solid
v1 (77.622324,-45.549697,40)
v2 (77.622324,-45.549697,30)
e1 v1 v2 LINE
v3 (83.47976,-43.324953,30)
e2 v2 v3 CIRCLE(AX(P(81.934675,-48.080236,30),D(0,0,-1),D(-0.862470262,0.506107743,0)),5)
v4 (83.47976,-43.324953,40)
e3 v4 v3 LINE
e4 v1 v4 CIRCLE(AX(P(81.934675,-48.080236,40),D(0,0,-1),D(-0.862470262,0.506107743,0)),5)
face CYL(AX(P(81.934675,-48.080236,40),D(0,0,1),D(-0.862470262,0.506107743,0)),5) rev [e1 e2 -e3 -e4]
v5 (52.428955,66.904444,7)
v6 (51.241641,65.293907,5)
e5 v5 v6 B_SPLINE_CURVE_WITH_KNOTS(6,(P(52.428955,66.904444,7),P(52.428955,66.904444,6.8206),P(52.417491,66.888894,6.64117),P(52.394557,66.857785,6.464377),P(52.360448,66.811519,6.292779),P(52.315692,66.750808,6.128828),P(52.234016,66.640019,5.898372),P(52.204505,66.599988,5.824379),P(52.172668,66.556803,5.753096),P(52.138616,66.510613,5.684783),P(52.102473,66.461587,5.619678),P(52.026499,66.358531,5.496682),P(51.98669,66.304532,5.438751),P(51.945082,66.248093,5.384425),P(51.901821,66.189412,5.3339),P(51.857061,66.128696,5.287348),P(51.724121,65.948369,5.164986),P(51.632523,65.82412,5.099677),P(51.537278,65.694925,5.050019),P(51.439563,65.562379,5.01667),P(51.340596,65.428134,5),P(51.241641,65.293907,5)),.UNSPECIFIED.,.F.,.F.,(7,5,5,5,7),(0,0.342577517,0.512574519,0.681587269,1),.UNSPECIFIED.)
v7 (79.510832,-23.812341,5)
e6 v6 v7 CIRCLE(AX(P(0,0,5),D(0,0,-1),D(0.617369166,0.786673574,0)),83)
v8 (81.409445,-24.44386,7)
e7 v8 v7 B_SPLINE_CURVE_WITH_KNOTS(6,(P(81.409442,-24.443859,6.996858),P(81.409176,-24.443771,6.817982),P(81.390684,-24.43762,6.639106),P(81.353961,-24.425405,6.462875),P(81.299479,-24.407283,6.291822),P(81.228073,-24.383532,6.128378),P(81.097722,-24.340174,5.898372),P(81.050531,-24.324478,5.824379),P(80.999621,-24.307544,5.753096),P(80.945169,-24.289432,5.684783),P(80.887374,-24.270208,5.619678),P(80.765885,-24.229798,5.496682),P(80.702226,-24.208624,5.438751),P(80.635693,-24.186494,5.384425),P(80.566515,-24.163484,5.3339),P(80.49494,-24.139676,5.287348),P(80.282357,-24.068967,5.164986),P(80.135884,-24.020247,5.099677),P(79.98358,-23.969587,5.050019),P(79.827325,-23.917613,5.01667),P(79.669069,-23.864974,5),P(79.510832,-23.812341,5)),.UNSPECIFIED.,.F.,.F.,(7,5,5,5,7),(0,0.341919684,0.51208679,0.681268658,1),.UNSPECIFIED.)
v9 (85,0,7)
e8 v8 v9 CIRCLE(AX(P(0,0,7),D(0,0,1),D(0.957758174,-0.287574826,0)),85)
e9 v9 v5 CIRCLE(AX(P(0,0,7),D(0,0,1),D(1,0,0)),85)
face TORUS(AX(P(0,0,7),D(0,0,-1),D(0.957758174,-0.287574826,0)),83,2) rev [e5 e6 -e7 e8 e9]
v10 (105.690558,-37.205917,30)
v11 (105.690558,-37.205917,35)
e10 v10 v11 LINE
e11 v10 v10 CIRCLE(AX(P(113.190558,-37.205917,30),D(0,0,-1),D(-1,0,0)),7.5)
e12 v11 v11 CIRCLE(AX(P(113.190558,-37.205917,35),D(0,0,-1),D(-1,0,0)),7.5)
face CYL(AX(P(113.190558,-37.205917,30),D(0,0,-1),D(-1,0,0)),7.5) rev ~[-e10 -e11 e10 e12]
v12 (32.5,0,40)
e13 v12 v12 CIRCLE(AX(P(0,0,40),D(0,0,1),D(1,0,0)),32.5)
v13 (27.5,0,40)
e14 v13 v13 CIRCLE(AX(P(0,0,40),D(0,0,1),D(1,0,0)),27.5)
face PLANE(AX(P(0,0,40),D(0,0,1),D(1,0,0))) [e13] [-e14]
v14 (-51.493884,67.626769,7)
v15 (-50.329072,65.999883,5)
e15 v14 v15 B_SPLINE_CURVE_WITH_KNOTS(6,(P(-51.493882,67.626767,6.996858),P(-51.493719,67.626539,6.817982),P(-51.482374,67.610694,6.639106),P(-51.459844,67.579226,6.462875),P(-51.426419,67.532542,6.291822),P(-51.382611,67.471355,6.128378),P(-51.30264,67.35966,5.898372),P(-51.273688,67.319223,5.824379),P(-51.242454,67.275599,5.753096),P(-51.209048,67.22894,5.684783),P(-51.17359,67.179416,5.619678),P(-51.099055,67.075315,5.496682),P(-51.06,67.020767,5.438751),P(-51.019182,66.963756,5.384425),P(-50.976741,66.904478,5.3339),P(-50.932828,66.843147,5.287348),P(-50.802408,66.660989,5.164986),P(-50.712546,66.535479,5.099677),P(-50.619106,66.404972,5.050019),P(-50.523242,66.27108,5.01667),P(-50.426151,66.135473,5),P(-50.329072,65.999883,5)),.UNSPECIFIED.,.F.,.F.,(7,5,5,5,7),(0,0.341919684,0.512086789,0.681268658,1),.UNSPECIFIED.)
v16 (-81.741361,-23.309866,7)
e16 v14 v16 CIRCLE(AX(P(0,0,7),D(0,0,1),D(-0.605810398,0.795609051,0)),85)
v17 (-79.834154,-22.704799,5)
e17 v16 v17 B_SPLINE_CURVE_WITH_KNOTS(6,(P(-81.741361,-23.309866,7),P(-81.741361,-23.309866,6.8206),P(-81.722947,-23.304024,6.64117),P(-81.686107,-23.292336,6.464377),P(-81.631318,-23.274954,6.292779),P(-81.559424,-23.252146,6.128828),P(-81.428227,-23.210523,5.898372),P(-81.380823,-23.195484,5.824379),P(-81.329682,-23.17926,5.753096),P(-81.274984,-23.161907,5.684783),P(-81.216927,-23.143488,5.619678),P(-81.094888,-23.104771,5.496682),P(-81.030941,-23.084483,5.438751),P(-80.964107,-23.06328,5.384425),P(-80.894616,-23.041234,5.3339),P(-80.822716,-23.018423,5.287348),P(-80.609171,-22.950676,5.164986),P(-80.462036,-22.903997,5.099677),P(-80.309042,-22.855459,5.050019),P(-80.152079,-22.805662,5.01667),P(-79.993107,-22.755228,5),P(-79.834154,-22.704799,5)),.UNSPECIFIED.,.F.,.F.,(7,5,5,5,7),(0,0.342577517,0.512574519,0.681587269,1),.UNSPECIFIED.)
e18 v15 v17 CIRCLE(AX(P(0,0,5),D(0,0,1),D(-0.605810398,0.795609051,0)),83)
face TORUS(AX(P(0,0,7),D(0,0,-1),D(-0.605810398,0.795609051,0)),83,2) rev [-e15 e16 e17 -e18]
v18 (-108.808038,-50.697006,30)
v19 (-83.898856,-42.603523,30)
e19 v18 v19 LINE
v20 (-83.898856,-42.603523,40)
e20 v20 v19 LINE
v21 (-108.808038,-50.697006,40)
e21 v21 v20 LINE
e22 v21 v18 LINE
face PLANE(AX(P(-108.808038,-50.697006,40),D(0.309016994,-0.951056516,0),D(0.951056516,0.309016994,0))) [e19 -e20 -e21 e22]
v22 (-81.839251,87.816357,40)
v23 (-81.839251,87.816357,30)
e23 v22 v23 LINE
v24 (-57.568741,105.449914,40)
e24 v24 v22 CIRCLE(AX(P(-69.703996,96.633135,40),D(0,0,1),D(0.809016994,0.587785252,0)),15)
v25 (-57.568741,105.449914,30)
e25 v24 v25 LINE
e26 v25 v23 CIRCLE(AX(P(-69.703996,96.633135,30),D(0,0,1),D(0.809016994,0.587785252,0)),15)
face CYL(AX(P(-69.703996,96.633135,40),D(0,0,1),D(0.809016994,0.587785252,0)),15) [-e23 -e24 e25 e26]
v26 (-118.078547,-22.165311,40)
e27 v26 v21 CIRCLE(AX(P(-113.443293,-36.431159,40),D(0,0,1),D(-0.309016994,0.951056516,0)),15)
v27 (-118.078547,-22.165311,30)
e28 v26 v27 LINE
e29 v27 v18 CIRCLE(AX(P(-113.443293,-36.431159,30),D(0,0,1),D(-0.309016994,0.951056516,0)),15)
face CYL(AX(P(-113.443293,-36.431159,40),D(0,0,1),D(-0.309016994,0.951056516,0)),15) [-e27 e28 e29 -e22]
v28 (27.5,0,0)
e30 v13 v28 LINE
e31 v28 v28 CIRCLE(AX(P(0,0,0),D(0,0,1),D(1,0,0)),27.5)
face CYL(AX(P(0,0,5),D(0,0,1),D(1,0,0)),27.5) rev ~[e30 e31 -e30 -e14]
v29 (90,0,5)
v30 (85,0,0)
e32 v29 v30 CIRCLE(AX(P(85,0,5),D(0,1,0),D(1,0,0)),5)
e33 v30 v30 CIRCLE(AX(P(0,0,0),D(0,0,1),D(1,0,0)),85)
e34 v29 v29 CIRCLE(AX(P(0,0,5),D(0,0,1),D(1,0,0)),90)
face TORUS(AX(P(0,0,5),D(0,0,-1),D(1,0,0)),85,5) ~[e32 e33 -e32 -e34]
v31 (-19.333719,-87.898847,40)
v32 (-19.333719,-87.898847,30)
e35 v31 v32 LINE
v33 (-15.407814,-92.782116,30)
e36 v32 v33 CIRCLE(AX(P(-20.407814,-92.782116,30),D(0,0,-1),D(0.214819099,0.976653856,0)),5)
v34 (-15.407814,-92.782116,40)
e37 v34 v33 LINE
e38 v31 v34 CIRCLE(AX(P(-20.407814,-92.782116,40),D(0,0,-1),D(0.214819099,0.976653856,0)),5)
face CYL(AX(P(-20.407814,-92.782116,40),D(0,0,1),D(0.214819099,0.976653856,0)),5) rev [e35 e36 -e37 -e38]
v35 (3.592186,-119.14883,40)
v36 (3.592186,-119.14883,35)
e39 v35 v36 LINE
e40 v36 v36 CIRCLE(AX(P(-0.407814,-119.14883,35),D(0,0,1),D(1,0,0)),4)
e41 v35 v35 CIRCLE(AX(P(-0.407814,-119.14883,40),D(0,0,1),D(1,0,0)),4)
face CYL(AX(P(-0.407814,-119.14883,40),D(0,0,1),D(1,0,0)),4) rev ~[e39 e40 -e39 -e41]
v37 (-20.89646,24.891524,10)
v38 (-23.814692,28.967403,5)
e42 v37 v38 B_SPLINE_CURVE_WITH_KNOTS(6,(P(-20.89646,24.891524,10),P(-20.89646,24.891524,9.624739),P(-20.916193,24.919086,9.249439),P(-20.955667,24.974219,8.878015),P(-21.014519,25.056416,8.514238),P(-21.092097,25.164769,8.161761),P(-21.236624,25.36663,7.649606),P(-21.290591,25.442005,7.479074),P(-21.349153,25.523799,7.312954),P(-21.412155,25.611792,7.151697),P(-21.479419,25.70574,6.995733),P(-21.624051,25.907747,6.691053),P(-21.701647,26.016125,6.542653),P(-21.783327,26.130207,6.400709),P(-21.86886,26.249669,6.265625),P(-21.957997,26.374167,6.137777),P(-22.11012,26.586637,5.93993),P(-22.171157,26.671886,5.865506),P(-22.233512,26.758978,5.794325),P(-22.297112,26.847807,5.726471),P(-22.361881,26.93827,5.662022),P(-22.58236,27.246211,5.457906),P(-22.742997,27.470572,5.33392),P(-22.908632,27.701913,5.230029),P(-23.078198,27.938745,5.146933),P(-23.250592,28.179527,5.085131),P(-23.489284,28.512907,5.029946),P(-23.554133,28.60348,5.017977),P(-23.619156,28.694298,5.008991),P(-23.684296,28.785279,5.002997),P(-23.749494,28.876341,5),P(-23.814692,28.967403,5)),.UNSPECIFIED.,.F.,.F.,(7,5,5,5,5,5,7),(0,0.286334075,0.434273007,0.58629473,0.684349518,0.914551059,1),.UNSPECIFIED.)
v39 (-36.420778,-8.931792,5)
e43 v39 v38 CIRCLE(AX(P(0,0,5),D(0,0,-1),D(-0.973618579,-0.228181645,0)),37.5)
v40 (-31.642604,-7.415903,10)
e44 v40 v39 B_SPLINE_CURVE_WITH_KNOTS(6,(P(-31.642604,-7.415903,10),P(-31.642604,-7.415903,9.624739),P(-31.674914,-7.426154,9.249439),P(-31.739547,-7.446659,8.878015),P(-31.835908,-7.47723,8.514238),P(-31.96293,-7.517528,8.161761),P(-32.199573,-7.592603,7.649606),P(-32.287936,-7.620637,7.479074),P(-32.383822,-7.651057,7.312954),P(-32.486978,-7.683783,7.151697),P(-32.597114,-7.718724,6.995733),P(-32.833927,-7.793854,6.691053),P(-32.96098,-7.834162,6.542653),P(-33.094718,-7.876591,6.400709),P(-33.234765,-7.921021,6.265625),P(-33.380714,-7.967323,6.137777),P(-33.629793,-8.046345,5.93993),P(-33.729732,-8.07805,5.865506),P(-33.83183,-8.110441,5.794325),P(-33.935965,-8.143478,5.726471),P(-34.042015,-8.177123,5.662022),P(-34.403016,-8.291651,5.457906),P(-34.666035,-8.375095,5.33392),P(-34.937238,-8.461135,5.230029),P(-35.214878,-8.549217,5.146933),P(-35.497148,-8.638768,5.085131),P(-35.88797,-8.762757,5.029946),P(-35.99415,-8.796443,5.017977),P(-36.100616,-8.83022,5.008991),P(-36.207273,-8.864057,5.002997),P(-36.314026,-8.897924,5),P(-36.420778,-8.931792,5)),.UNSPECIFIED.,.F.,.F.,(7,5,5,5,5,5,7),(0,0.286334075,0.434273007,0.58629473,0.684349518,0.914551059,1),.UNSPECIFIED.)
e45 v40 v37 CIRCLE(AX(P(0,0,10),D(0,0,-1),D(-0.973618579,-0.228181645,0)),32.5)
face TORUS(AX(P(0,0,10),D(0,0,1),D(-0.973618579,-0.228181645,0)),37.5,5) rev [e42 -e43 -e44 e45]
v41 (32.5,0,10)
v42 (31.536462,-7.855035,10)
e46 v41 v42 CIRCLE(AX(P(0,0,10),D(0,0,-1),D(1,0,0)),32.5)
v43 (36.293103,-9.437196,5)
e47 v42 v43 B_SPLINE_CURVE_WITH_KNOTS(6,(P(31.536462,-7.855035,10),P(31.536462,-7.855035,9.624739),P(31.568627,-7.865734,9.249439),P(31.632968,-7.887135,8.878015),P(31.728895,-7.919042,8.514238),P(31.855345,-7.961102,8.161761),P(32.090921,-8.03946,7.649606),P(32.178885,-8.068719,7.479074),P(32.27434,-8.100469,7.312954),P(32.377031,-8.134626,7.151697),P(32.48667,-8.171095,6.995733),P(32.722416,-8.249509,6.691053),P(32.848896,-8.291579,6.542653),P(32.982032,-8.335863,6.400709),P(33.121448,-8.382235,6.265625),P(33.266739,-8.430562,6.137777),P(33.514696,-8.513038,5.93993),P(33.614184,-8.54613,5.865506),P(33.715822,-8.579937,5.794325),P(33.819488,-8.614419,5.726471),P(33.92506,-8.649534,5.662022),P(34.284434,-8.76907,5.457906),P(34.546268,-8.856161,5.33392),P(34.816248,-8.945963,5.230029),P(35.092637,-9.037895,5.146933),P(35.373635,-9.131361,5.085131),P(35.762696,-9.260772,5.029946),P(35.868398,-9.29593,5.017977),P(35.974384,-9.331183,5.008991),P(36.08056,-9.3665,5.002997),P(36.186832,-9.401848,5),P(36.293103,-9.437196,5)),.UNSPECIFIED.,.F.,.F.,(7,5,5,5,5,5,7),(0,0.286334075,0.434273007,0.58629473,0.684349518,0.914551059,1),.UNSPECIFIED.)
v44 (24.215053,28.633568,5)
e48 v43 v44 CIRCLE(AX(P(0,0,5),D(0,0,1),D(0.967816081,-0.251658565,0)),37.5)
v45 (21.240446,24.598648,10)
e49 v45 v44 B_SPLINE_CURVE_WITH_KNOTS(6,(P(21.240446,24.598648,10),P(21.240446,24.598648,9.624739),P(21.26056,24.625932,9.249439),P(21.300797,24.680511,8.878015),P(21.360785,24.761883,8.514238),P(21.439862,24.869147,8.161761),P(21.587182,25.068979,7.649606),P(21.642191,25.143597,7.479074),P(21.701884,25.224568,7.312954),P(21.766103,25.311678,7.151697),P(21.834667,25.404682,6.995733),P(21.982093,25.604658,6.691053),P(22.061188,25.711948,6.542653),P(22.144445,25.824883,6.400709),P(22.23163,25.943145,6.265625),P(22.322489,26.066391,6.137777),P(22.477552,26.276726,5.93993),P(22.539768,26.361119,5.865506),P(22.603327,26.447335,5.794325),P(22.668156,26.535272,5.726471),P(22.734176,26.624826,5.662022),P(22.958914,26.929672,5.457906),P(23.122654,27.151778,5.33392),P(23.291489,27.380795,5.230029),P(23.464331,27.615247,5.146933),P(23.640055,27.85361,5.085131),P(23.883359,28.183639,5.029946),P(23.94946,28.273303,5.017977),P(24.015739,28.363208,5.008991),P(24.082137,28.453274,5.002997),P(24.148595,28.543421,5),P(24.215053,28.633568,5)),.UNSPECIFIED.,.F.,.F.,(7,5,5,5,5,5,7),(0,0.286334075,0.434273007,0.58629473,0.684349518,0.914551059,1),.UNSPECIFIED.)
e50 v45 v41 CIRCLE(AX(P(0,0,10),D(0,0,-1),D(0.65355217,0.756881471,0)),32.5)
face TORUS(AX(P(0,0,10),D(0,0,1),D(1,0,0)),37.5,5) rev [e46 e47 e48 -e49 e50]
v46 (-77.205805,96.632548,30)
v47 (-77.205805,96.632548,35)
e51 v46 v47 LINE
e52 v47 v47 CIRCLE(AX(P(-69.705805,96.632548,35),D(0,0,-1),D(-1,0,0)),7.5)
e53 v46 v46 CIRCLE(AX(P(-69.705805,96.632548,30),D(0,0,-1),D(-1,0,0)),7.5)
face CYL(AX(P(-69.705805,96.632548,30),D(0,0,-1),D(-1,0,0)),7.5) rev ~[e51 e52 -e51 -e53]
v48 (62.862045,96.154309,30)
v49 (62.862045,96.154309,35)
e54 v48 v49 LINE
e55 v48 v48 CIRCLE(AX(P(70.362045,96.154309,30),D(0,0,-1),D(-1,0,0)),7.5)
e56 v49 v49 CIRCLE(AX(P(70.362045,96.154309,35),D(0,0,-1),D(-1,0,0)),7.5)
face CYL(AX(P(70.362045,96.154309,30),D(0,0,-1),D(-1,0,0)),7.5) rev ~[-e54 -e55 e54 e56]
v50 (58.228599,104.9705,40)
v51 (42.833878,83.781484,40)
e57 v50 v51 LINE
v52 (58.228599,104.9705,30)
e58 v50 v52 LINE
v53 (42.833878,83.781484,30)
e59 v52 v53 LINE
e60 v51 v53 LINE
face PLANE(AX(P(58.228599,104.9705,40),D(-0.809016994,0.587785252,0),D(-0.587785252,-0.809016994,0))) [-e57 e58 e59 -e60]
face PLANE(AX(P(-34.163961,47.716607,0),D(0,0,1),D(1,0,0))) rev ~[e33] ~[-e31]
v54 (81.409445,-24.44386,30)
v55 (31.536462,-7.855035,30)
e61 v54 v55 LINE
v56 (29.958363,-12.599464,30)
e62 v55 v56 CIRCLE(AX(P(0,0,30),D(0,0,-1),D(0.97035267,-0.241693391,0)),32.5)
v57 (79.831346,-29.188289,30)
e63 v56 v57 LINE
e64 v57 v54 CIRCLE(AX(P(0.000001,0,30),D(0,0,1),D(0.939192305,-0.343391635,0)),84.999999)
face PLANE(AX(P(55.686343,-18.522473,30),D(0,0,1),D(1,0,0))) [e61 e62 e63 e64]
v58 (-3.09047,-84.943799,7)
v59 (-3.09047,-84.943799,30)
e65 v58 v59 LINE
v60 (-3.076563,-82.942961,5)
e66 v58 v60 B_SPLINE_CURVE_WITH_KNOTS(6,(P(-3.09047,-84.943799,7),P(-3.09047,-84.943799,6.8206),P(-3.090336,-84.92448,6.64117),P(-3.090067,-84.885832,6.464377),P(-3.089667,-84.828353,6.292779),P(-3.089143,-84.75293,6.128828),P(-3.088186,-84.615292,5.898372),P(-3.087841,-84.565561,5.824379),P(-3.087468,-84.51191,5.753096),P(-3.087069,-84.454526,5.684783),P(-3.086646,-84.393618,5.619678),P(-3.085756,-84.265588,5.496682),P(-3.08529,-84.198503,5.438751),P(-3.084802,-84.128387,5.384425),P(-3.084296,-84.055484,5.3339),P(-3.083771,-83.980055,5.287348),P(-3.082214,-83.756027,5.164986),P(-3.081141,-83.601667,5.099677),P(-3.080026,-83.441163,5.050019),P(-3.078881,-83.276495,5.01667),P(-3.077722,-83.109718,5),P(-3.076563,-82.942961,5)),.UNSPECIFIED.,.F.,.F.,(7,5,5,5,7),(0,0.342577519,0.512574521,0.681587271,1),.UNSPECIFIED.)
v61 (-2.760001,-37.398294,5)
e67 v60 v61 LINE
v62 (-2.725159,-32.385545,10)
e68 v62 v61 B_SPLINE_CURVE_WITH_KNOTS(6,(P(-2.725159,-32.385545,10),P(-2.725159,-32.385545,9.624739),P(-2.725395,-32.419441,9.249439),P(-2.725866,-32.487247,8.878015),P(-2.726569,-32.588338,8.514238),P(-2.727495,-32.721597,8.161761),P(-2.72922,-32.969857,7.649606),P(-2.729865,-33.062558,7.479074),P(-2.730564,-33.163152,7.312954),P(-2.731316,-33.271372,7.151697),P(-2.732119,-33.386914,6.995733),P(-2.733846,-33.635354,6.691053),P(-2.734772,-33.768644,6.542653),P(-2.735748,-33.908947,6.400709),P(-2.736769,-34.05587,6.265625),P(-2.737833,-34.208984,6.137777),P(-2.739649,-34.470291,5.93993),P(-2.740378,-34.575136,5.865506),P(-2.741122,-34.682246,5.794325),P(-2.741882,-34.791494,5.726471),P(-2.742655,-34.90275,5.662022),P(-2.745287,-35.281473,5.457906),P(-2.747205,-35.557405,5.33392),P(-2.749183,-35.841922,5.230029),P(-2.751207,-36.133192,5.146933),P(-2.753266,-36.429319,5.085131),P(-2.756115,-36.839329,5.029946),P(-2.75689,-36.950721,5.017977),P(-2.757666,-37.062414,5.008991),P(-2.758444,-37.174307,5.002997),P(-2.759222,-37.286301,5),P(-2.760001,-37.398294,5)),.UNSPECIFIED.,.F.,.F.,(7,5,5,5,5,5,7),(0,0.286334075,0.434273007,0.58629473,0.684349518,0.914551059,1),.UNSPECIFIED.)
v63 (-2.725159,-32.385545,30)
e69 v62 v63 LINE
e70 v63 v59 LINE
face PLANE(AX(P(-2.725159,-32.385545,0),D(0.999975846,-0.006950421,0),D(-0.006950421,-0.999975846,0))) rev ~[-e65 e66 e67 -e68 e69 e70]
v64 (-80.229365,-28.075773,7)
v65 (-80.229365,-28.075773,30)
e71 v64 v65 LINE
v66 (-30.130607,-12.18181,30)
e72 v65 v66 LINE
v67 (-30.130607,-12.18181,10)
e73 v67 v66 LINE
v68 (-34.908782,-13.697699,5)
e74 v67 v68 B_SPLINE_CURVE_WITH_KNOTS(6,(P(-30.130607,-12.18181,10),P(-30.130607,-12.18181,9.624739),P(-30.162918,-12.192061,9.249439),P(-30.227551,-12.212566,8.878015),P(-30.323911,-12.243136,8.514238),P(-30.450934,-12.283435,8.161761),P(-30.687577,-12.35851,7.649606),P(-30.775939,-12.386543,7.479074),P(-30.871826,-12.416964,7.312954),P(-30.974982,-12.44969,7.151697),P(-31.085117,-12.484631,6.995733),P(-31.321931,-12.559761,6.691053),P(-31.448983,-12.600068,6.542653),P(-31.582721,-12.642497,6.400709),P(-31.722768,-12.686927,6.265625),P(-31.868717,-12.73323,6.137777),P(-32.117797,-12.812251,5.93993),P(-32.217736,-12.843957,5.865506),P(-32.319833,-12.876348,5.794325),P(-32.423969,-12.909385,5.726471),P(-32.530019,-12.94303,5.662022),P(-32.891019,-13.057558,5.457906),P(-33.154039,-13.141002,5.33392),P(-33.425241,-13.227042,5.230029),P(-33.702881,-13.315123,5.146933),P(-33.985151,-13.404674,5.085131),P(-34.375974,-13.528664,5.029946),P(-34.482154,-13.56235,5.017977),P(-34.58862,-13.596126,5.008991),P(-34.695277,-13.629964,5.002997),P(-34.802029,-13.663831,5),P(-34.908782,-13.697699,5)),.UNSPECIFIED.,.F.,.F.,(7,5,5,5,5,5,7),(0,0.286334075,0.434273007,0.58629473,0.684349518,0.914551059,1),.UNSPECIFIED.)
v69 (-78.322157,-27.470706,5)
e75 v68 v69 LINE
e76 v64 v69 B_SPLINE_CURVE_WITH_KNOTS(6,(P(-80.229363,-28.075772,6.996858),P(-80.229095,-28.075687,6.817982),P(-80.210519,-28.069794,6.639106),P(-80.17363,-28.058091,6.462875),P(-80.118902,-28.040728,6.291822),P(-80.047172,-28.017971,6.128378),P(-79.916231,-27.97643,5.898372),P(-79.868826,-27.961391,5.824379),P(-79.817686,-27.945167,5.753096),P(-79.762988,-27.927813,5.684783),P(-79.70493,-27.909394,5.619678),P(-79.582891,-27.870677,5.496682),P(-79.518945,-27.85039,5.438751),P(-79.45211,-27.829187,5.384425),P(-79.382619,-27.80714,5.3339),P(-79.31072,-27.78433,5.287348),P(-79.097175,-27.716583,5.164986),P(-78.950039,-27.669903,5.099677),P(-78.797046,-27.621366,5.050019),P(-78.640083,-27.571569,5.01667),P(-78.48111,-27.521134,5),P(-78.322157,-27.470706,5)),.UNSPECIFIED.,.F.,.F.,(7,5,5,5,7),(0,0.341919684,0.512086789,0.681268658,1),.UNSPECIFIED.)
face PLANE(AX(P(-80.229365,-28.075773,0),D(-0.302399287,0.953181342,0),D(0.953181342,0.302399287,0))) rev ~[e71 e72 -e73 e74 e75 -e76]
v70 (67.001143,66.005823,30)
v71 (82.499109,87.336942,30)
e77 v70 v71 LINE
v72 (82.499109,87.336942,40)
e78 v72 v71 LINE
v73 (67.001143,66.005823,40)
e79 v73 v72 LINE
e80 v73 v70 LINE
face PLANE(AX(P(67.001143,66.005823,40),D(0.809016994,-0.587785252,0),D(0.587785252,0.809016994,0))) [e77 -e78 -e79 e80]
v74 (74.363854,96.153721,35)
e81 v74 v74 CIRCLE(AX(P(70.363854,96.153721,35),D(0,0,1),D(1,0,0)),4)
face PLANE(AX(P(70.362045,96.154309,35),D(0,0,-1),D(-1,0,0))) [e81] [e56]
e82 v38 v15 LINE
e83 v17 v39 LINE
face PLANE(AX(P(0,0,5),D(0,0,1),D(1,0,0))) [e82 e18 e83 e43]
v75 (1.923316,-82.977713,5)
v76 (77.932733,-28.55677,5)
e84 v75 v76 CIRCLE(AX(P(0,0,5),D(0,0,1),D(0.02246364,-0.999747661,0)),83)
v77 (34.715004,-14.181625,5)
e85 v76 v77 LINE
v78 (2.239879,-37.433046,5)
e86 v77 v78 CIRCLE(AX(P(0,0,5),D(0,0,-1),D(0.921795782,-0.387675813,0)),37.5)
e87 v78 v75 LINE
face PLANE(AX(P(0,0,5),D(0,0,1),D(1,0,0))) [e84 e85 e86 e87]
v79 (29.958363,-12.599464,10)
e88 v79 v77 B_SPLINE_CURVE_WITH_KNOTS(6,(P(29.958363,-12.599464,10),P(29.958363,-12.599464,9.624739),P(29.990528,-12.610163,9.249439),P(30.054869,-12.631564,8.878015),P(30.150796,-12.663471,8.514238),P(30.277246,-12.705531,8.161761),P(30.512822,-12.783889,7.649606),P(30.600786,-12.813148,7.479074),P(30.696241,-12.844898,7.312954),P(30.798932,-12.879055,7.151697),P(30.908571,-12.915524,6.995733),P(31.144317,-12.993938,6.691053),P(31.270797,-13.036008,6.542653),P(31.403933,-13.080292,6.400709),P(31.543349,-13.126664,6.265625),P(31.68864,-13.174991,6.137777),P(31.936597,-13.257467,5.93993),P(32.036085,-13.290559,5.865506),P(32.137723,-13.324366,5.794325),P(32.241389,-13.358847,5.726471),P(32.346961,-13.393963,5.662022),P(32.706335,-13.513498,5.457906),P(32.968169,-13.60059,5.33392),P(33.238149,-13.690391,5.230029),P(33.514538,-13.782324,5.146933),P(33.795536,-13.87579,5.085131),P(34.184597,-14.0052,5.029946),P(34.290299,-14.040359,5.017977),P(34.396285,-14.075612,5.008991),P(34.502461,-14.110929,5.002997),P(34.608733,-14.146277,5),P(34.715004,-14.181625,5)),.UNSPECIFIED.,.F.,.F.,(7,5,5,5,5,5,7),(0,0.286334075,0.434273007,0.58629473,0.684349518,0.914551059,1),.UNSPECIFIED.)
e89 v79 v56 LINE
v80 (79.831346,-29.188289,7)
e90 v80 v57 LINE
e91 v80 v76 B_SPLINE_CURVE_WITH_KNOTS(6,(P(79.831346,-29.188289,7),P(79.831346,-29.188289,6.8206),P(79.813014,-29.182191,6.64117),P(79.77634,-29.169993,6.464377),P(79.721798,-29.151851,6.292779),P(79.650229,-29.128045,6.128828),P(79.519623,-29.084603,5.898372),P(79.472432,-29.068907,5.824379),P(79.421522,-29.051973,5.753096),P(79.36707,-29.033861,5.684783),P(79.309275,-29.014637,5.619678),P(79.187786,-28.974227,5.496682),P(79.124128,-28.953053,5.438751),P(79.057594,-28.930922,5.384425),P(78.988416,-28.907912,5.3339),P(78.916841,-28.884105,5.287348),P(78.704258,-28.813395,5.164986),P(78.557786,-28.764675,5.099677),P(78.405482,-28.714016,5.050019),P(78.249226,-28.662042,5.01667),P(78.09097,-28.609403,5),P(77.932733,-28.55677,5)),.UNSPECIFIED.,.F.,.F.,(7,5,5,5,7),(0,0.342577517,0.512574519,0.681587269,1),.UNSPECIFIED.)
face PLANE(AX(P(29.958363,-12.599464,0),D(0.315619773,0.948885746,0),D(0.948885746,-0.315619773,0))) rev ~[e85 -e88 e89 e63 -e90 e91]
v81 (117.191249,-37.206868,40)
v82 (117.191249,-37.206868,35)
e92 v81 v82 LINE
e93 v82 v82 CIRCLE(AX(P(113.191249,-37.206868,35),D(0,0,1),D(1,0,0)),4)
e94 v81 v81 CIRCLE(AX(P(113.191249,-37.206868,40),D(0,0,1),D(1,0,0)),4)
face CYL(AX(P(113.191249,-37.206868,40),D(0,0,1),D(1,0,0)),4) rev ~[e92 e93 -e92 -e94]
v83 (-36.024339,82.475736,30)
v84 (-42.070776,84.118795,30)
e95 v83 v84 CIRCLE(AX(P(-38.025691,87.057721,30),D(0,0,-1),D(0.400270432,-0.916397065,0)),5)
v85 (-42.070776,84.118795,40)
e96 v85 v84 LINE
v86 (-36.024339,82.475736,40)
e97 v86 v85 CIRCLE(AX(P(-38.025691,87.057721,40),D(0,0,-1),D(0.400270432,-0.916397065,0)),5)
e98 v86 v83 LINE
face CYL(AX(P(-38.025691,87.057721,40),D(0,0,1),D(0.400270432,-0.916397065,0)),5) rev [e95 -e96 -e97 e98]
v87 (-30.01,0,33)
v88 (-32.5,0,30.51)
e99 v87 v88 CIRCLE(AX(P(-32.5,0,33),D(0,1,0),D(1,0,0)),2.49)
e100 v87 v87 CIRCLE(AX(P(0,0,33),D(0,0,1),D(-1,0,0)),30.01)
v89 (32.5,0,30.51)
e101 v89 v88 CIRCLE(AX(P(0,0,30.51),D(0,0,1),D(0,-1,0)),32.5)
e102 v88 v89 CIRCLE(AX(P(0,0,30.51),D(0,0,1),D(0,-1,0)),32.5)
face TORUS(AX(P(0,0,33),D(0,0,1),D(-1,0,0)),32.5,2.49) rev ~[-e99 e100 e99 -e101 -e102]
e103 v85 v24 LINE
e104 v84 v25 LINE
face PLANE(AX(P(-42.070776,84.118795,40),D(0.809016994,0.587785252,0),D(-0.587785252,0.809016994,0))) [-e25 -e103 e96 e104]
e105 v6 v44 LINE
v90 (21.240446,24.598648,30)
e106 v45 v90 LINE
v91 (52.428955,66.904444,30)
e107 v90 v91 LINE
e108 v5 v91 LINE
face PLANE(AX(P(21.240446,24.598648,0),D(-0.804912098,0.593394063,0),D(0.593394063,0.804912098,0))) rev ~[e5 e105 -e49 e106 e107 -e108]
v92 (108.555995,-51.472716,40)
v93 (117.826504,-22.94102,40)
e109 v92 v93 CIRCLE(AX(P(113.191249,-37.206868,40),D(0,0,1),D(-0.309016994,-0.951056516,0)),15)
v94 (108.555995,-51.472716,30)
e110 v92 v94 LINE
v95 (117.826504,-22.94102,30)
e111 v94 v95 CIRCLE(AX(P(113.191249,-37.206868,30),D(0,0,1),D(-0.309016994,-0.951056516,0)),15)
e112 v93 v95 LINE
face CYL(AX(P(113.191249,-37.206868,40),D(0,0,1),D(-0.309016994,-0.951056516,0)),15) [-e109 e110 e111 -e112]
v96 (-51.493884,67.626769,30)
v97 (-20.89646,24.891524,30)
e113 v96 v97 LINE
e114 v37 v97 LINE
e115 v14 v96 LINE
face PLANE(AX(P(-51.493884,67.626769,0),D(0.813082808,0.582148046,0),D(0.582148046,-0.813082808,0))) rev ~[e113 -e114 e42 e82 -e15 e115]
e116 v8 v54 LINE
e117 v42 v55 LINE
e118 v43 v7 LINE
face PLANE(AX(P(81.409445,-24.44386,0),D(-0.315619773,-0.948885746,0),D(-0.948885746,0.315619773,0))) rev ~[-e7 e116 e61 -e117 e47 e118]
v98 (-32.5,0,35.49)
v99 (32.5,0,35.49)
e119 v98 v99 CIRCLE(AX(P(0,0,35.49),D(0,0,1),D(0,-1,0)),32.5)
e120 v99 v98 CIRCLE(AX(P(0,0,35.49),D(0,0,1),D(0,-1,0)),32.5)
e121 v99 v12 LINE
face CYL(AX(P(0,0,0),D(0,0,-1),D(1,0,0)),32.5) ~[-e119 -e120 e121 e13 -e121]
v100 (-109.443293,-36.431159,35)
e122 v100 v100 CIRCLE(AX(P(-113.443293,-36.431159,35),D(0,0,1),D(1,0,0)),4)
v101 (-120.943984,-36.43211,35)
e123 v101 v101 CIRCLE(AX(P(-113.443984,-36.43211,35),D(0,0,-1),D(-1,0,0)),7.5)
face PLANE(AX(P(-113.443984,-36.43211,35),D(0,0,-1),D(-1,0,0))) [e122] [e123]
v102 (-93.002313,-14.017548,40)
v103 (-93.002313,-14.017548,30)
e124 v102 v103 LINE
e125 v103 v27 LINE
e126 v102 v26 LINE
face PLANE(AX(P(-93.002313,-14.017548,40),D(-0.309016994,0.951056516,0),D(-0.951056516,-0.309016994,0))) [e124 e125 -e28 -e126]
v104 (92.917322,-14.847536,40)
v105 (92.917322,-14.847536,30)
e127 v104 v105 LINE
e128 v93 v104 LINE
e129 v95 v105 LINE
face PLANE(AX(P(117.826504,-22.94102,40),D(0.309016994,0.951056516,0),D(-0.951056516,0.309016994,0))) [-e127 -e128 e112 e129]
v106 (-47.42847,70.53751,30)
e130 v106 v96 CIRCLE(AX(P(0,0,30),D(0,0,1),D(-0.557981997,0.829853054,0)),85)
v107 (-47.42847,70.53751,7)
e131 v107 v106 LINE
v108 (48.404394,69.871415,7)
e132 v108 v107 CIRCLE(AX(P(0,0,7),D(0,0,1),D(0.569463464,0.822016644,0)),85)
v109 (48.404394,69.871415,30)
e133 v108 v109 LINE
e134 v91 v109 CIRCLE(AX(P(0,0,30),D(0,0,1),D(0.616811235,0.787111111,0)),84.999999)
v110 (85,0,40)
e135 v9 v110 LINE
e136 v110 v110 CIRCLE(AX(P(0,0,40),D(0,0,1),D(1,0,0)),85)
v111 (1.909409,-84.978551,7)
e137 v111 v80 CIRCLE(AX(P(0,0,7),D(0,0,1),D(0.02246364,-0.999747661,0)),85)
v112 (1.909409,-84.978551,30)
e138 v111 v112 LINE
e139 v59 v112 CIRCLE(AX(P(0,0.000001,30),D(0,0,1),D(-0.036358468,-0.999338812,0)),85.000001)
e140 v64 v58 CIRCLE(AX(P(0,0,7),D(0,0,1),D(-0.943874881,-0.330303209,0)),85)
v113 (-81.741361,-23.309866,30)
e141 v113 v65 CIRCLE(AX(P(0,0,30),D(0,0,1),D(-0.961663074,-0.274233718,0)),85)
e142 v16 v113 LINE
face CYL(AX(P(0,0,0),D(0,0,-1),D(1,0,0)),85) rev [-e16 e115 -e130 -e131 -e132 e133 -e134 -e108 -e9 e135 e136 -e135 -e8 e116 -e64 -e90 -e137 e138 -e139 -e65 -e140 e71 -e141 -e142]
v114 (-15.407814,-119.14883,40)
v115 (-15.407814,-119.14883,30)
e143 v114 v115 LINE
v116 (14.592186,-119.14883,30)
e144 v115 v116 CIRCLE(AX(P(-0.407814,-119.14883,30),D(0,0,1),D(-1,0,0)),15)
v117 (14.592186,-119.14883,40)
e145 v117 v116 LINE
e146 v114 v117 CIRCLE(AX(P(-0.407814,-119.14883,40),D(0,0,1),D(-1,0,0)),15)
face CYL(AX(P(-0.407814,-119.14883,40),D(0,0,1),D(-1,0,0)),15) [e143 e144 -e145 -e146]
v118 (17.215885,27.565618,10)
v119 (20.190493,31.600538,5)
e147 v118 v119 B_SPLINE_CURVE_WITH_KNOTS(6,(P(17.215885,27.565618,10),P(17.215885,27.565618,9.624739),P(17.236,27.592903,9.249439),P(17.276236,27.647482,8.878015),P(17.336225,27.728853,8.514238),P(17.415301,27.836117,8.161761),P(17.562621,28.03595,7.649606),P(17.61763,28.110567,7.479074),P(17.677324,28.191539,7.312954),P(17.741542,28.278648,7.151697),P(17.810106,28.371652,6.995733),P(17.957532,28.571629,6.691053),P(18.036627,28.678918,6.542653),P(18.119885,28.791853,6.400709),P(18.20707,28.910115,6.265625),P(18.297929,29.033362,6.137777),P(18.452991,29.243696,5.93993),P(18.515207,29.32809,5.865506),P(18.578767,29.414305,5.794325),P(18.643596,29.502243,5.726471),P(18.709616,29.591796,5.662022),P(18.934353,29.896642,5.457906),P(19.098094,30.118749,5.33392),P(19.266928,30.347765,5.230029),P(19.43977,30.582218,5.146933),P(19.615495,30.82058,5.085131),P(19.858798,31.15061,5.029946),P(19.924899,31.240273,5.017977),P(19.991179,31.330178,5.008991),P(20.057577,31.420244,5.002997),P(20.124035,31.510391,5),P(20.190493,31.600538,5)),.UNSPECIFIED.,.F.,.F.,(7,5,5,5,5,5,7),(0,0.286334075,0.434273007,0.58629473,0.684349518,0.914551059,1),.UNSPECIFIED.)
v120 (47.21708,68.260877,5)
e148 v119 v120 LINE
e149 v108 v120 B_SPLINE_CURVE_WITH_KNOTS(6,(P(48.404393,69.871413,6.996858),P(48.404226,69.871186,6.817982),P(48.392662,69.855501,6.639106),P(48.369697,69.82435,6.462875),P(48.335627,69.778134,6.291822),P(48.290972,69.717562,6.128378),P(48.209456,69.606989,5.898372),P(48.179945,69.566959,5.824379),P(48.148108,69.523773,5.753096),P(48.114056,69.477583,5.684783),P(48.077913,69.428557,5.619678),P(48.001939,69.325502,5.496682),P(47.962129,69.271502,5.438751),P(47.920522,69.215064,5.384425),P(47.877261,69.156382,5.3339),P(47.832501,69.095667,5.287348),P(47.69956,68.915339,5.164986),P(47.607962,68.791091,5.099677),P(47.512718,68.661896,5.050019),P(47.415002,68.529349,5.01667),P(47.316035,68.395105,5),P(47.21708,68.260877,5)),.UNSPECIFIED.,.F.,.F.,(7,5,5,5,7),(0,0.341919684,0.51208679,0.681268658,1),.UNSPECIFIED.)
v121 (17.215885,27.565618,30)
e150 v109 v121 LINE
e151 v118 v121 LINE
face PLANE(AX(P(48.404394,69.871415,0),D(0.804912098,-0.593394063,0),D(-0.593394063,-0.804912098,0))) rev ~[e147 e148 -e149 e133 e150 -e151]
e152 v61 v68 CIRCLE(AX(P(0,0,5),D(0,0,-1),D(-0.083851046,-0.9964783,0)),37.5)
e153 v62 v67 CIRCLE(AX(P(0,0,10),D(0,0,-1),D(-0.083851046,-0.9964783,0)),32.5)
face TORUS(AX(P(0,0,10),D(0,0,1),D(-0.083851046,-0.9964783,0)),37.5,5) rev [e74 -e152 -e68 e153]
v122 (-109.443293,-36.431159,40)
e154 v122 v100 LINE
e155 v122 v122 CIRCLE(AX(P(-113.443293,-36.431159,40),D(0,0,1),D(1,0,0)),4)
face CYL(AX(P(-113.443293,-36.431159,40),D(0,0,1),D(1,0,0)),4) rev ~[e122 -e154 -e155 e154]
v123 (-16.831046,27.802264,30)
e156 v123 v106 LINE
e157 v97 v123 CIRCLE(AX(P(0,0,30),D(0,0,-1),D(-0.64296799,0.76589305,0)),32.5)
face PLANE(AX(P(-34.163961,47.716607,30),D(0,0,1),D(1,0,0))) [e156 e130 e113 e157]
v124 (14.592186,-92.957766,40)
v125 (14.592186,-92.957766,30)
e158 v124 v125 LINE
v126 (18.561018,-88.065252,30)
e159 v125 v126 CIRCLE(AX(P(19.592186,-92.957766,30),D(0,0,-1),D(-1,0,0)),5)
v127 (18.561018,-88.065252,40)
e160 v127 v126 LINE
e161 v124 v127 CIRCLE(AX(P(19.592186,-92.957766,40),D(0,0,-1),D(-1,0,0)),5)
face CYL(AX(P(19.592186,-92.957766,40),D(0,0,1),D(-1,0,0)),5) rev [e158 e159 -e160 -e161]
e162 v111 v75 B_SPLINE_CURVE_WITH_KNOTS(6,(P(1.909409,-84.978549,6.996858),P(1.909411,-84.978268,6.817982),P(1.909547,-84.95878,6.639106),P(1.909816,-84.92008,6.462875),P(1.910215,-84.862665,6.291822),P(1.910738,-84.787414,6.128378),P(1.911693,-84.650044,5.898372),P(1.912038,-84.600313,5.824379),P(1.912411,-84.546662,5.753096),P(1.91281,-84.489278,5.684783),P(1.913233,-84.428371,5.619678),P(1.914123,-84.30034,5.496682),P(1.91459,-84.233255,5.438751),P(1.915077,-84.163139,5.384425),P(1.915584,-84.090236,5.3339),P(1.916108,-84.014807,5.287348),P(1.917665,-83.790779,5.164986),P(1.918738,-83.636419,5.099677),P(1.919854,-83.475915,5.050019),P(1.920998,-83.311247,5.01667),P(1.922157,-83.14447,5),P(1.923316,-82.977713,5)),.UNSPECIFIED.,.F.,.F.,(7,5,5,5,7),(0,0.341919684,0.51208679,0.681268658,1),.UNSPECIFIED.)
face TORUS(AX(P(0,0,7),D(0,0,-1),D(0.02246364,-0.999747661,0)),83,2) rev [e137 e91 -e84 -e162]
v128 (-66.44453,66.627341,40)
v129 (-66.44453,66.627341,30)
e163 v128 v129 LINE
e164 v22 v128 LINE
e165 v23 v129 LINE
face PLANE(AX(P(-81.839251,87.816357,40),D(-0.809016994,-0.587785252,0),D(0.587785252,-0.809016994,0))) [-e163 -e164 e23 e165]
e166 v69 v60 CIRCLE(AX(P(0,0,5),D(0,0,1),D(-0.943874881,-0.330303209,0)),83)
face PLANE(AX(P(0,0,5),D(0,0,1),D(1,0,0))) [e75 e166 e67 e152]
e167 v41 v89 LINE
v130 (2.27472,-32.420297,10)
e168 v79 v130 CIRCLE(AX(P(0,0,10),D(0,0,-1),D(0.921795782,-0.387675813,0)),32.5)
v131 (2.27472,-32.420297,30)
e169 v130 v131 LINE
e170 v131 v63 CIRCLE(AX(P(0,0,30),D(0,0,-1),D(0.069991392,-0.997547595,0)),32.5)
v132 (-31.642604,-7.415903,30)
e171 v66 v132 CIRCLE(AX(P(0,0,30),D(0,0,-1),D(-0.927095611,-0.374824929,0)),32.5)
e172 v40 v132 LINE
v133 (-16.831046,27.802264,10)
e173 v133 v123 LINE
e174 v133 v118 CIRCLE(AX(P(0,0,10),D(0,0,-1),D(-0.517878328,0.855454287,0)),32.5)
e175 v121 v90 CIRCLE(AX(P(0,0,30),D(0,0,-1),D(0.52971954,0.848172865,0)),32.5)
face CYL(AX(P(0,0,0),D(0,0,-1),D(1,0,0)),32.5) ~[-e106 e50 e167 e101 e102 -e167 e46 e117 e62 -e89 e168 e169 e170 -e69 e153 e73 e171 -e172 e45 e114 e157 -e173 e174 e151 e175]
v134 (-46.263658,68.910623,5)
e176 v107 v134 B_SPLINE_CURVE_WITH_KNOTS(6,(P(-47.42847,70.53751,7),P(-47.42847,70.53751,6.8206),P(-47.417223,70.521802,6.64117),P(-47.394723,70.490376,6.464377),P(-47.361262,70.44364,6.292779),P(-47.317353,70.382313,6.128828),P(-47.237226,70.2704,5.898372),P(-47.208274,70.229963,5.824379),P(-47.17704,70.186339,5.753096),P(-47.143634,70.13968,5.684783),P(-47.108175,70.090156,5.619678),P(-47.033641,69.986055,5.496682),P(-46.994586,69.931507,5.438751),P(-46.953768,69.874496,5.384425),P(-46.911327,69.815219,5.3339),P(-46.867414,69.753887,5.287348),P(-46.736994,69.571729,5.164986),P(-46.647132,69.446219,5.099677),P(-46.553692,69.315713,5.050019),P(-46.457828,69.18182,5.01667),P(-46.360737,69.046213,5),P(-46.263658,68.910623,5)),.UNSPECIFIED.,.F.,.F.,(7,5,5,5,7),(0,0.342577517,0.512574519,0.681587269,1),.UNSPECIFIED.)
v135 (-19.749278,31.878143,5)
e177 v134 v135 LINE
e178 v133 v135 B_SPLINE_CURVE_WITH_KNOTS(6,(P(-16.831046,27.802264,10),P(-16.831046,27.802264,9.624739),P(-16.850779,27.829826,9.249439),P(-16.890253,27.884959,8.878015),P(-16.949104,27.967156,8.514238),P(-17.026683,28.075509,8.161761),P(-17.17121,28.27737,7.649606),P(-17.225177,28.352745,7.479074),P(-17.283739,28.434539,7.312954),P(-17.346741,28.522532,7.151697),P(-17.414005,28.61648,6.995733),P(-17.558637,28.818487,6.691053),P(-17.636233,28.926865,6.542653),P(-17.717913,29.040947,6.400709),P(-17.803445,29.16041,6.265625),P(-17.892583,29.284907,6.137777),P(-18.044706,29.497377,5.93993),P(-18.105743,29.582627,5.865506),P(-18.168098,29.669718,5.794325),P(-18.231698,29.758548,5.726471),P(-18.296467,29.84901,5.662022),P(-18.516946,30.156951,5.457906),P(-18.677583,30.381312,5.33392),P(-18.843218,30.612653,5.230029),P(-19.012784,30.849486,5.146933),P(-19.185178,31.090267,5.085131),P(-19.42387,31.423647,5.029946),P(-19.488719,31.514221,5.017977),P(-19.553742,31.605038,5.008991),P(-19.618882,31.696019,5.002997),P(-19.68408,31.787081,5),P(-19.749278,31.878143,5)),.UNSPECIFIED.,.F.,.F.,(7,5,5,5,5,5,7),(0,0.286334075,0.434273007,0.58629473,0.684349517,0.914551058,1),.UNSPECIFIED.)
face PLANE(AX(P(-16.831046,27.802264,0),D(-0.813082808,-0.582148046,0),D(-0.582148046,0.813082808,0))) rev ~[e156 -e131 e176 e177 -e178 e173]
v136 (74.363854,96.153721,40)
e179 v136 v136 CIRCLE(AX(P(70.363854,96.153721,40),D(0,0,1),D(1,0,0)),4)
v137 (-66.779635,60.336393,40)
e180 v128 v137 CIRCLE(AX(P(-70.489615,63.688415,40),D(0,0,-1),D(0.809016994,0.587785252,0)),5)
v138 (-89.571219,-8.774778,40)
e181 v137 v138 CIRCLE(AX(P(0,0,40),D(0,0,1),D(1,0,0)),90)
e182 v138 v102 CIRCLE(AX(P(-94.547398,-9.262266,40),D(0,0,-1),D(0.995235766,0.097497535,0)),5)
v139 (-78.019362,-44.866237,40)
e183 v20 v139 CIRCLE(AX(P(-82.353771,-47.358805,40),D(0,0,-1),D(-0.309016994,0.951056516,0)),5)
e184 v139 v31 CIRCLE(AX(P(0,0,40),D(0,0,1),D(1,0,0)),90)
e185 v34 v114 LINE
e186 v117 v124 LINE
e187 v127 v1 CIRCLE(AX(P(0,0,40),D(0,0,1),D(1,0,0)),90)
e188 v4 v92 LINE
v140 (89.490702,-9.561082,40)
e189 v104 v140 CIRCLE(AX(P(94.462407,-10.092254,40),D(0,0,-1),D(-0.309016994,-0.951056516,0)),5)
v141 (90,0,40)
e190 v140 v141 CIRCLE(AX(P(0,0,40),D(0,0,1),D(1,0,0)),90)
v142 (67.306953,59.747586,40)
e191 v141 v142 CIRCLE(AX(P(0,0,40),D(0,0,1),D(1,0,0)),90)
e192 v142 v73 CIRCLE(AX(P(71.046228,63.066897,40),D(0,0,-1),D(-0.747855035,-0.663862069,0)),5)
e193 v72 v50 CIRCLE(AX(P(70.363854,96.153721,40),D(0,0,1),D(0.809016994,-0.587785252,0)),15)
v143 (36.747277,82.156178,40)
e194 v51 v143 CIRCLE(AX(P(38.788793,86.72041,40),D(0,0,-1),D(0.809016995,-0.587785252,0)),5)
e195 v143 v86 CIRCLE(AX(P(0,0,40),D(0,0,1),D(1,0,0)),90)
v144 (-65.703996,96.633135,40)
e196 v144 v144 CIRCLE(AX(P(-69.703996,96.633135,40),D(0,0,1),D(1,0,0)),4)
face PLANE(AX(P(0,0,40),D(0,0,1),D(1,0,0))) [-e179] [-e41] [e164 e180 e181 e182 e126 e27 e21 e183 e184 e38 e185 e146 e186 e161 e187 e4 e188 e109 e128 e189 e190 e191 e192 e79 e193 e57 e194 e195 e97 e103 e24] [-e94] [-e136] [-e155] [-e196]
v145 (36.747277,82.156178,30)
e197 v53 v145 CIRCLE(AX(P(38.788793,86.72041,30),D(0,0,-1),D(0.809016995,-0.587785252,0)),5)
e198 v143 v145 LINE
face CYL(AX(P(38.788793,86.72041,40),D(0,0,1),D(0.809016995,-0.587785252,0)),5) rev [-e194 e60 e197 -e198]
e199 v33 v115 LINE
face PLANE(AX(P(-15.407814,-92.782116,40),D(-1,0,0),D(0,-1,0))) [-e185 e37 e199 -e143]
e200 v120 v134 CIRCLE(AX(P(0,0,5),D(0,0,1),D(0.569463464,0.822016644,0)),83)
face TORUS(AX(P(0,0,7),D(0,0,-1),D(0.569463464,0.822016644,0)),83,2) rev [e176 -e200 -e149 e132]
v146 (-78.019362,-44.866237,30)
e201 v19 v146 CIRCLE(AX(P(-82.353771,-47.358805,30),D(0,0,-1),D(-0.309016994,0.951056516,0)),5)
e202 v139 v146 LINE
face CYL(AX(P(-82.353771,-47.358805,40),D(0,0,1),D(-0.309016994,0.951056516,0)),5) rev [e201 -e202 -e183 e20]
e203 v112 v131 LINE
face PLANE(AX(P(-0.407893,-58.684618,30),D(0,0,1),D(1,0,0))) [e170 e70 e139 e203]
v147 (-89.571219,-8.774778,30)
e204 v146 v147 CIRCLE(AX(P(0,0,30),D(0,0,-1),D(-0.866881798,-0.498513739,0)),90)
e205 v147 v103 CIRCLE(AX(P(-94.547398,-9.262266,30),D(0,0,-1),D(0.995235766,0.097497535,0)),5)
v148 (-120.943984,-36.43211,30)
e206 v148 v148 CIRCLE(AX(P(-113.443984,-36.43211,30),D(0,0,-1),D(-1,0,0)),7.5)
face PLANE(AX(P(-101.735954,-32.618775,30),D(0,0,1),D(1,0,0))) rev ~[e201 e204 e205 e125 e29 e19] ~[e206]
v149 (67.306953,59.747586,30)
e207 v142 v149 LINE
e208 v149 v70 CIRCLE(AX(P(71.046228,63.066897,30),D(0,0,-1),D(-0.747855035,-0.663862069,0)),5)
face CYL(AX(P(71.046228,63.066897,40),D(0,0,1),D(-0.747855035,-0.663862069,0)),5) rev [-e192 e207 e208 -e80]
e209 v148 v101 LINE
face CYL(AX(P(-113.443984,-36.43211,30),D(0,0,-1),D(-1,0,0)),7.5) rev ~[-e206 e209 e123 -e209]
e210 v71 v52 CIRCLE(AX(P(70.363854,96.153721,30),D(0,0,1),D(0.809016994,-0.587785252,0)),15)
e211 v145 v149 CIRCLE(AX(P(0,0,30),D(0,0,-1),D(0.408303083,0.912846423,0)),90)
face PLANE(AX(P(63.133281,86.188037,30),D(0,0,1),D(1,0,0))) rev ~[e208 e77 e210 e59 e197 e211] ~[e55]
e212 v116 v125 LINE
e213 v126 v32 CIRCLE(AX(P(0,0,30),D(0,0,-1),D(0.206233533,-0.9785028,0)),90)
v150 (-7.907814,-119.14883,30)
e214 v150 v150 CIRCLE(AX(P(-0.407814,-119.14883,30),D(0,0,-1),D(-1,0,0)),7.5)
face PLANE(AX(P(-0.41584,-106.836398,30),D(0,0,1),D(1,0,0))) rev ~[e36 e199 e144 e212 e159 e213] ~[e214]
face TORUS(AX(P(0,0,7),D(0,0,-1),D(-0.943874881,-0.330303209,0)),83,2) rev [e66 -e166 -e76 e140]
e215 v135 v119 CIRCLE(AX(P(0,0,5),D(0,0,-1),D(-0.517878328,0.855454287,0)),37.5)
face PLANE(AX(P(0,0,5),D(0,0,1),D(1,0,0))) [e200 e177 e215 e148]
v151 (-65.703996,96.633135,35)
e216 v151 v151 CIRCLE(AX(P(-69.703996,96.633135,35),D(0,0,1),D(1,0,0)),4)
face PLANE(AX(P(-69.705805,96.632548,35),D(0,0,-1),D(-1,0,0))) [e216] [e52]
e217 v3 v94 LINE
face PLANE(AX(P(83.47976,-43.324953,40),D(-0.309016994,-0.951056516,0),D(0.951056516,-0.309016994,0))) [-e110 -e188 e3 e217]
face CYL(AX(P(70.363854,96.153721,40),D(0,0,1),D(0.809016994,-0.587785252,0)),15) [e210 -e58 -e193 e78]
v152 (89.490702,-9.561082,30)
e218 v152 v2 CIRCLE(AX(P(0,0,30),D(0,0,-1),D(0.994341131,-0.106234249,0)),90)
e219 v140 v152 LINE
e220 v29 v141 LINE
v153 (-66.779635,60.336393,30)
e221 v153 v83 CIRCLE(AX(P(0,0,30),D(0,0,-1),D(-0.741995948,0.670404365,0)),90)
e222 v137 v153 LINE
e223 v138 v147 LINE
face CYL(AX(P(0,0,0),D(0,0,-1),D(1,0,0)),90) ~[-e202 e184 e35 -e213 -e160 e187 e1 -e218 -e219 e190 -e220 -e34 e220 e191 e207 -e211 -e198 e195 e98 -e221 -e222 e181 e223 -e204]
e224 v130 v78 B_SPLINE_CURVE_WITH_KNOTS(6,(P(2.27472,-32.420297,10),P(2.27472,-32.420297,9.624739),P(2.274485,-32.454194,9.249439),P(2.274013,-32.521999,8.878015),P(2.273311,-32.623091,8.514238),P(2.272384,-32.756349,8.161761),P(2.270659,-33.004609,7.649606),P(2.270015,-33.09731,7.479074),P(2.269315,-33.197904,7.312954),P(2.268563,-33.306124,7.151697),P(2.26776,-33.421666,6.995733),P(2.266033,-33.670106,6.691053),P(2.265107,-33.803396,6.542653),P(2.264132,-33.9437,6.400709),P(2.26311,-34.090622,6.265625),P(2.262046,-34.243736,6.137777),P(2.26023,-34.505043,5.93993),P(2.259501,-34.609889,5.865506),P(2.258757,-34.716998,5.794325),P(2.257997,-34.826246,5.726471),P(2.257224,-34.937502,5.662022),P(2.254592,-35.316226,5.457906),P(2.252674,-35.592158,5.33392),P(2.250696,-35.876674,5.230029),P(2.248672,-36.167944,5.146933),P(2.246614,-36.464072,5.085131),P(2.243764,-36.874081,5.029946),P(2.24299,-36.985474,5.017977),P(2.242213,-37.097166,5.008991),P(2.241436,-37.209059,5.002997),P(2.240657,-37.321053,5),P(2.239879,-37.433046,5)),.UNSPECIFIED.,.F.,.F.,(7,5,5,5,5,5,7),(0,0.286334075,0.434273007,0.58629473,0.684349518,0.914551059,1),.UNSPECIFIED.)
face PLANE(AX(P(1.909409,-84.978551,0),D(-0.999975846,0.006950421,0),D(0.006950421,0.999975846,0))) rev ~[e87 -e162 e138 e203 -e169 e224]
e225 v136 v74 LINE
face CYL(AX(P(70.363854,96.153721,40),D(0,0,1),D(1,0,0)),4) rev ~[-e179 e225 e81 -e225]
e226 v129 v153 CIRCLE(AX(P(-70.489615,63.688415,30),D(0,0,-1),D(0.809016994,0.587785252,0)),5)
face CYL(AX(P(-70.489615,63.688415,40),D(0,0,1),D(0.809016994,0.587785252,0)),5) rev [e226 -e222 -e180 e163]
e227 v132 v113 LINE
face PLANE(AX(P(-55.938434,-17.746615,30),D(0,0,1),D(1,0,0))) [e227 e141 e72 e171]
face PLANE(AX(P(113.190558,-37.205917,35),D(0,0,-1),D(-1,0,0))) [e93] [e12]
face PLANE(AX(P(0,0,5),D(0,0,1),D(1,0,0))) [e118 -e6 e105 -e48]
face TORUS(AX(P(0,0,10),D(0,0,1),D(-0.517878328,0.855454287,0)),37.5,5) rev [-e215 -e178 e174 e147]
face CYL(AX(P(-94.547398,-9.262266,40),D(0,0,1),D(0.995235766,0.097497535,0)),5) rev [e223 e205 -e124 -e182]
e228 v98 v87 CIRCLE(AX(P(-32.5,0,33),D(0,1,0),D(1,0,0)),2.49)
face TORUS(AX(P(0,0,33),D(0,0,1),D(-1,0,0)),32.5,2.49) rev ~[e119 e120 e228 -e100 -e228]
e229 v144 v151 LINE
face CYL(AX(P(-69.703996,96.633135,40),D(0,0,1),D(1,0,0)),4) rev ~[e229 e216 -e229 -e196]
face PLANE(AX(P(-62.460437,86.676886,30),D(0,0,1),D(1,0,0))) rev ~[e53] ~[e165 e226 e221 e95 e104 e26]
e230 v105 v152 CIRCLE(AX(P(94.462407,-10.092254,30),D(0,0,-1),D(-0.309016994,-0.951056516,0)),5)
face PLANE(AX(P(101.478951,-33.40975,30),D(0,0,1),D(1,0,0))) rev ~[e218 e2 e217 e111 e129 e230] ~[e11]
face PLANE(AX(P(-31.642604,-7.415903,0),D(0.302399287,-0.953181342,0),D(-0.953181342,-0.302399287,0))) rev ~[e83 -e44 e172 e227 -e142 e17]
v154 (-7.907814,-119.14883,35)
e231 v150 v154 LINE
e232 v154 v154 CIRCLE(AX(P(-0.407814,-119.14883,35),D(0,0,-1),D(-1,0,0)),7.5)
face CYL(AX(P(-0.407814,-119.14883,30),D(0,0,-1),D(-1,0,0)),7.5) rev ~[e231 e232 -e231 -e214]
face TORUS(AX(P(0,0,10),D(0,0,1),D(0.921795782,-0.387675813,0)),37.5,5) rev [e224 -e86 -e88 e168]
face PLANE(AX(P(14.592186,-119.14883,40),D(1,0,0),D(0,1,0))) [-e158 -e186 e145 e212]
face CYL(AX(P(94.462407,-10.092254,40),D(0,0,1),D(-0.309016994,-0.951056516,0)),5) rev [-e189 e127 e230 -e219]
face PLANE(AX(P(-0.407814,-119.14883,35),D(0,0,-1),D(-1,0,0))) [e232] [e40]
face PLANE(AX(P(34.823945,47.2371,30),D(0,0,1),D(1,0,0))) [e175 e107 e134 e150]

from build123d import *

# Parameters (mm, degrees)
IZIM1_R                       = 90
IZIM1_R_2                     = 85
Y_KSEKLIK_EKSTR_ZYON1_DEPTH   = 40
IZIM1_R_3                     = 32.5
IZIM1_R_4                     = 27.5
Y_KSEKLIK_EKSTR_ZYON1_2_DEPTH = 40
IZIM2_R                       = 85
Y_KSEKLIK_EKSTR_ZYON2_DEPTH   = 5
Y_KSEKLIK_EKSTR_ZYON3_DEPTH   = 30
IZIM5_R                       = 4
Y_KSEKLIK_EKSTR_ZYON4_DEPTH   = 10
IZIM6_R                       = 7.5
KES_EKSTR_ZYON2_DEPTH         = 5
RADYUS6_R                     = 2
RADYUS7_R                     = 5
RADYUS8_R                     = 5
IZIM7_R                       = 27.5
KES_EKSTR_ZYON3_DEPTH         = 45
IZIM8_R                       = 2.49


with BuildPart() as part:
    # Çizim1 → Yükseklik-Ekstrüzyon1 (new body)
    with BuildSketch(Plane.XY):
        Circle(IZIM1_R)
        Circle(IZIM1_R_2, mode=Mode.SUBTRACT)
    extrude(amount=Y_KSEKLIK_EKSTR_ZYON1_DEPTH)



with BuildPart() as body_2:
    # Çizim1 → Y_kseklik-Ekstr_zyon1 2 (new body)
    with BuildSketch(Plane.XY):
        Circle(IZIM1_R_3)
        Circle(IZIM1_R_4, mode=Mode.SUBTRACT)
    extrude(amount=Y_KSEKLIK_EKSTR_ZYON1_2_DEPTH)


with BuildPart() as part_1:
    add(part.part)

    add(body_2.part)  # Yükseklik-Ekstrüzyon2 merges body 2
    # Çizim2 → Yükseklik-Ekstrüzyon2 (add)
    with BuildSketch(Plane.XY):
        Circle(IZIM2_R)
    extrude(amount=Y_KSEKLIK_EKSTR_ZYON2_DEPTH)

    # Çizim3 → Yükseklik-Ekstrüzyon3 (add)
    with BuildSketch(Plane.XY):
        with BuildLine():
            ThreePointArc((-47.428469753, 70.537509574), (-49.482583905, 69.112038677), (-51.493883793, 67.626769344))
            Line((-51.493883793, 67.626769344), (-20.896459689, 24.891524109))
            ThreePointArc((-20.896459689, 24.891524109), (-18.919811493, 26.425191259), (-16.831045649, 27.802264339))
            Line((-16.831045649, 27.802264339), (-47.428469753, 70.537509574))
        make_face()
        with BuildLine():
            ThreePointArc((52.428954953, 66.904444415), (50.438495386, 68.417528333), (48.404394463, 69.871414732))
            Line((48.404394463, 69.871414732), (17.215885038, 27.56561812))
            ThreePointArc((17.215885038, 27.56561812), (19.285307059, 26.159643186), (21.240445528, 24.598647803))
            Line((21.240445528, 24.598647803), (52.428954953, 66.904444415))
        make_face()
        with BuildLine():
            ThreePointArc((79.831345908, -29.188288927), (80.655288395, -26.827680741), (81.409444775, -24.443860198))
            Line((81.409444775, -24.443860198), (31.536461789, -7.85503519))
            ThreePointArc((31.536461789, -7.85503519), (30.838786739, -10.257642636), (29.958362922, -12.599463919))
            Line((29.958362922, -12.599463919), (79.831345908, -29.188288927))
        make_face()
        with BuildLine():
            Line((-2.725158995, -32.385544745), (-3.090469814, -84.943799046))
            ThreePointArc((-3.090469814, -84.943799046), (-0.590785786, -84.99794687), (1.909409414, -84.978551151))
            Line((1.909409414, -84.978551151), (2.274720232, -32.42029685))
            ThreePointArc((2.274720232, -32.42029685), (-0.225888683, -32.49921498), (-2.725158995, -32.385544745))
        make_face()
        with BuildLine():
            Line((-31.642603806, -7.415903478), (-81.741361294, -23.309866017))
            ThreePointArc((-81.741361294, -23.309866017), (-81.02041409, -25.703939399), (-80.229364859, -28.075772728))
            Line((-80.229364859, -28.075772728), (-30.13060737, -12.181810189))
            ThreePointArc((-30.13060737, -12.181810189), (-30.978393623, -9.827976829), (-31.642603806, -7.415903478))
        make_face()
    extrude(amount=Y_KSEKLIK_EKSTR_ZYON3_DEPTH)

    # Çizim5 → Yükseklik-Ekstrüzyon4 (add)
    with BuildSketch(Plane.XY.offset(40)):
        with BuildLine():
            ThreePointArc((89.490701767, -9.561082434), (85.472135229, -28.187126484), (77.622323556, -45.549696878))
            ThreePointArc((77.622323556, -45.549696878), (80.159340513, -43.406031069), (83.479759837, -43.324953012))
            Line((83.479759837, -43.324953012), (108.555994506, -51.472715564))
            ThreePointArc((108.555994506, -51.472715564), (127.457097166, -41.842122735), (117.826504337, -22.941020075))
            Line((117.826504337, -22.941020075), (92.917322448, -14.847536262))
            ThreePointArc((92.917322448, -14.847536262), (90.266720524, -12.811851347), (89.490701767, -9.561082434))
        make_face()
        with Locations((113.191249421, -37.206867819)):
            Circle(IZIM5_R, mode=Mode.SUBTRACT)
        with BuildLine():
            ThreePointArc((36.747277436, 82.156178106), (53.21989265, 72.578530065), (67.306953153, 59.747586204))
            ThreePointArc((67.306953153, 59.747586204), (66.052187171, 62.822861878), (67.001143357, 66.00582281))
            Line((67.001143357, 66.00582281), (82.499108692, 87.336942102))
            ThreePointArc((82.499108692, 87.336942102), (79.180632561, 108.288975802), (58.228598861, 104.970499671))
            Line((58.228598861, 104.970499671), (42.833877821, 83.781483962))
            ThreePointArc((42.833877821, 83.781483962), (40.078745378, 81.889672963), (36.747277436, 82.156178106))
        make_face()
        with Locations((70.363853776, 96.153720886)):
            Circle(IZIM5_R, mode=Mode.SUBTRACT)
        with BuildLine():
            ThreePointArc((-66.444530085, 66.627340978), (-65.496693654, 63.422452566), (-66.779635317, 60.33639289))
            ThreePointArc((-66.779635317, 60.33639289), (-52.580432693, 73.043124918), (-36.024338828, 82.475735898))
            ThreePointArc((-36.024338828, 82.475735898), (-39.33684381, 82.23269498), (-42.070775957, 84.118794965))
            Line((-42.070775957, 84.118794965), (-57.568741293, 105.449914256))
            ThreePointArc((-57.568741293, 105.449914256), (-78.520774993, 108.768390387), (-81.839251124, 87.816356687))
            Line((-81.839251124, 87.816356687), (-66.444530085, 66.627340978))
        make_face()
        with Locations((-69.703996208, 96.633135472)):
            Circle(IZIM5_R, mode=Mode.SUBTRACT)
        with BuildLine():
            ThreePointArc((-83.89885578, -42.603522657), (-80.557928207, -42.692441628), (-78.019361819, -44.866236542))
            ThreePointArc((-78.019361819, -44.866236542), (-85.716387198, -27.435396221), (-89.571218971, -8.774778172))
            ThreePointArc((-89.571218971, -8.774778172), (-90.363693656, -12.000261394), (-93.002312831, -14.01754843))
            Line((-93.002312831, -14.01754843), (-118.0785475, -22.165310981))
            ThreePointArc((-118.0785475, -22.165310981), (-127.709140329, -41.066413641), (-108.808037669, -50.69700647))
            Line((-108.808037669, -50.69700647), (-83.89885578, -42.603522657))
        make_face()
        with Locations((-113.443292585, -36.431158725)):
            Circle(IZIM5_R, mode=Mode.SUBTRACT)
        with BuildLine():
            ThreePointArc((-15.407814405, -119.148829813), (-0.407814405, -134.148829813), (14.592185595, -119.148829813))
            Line((14.592185595, -119.148829813), (14.592185595, -92.957766021))
            ThreePointArc((14.592185595, -92.957766021), (15.709155959, -89.807832555), (18.561017932, -88.06525202))
            ThreePointArc((18.561017932, -88.06525202), (-0.395207987, -89.999132277), (-19.33371891, -87.898847052))
            ThreePointArc((-19.33371891, -87.898847052), (-16.510990219, -89.649264395), (-15.407814405, -92.782116333))
            Line((-15.407814405, -92.782116333), (-15.407814405, -119.148829813))
        make_face()
        with Locations((-0.407814405, -119.148829813)):
            Circle(IZIM5_R, mode=Mode.SUBTRACT)
    extrude(amount=-Y_KSEKLIK_EKSTR_ZYON4_DEPTH)

    # Çizim6 → Kes-Ekstrüzyon2 (cut)
    with BuildSketch(Plane(origin=(0, 0, 30), x_dir=(-1, 0, 0), z_dir=(0, 0, -1))):
        with Locations((-70.362044759, 96.154308672)):
            Circle(IZIM6_R)
        with Locations((113.443983568, -36.432109782)):
            Circle(IZIM6_R)
        with Locations((-113.190558438, -37.205916763)):
            Circle(IZIM6_R)
        with Locations((69.705805225, 96.632547686)):
            Circle(IZIM6_R)
        with Locations((0.407814405, -119.148829813)):
            Circle(IZIM6_R)
    extrude(amount=-KES_EKSTR_ZYON2_DEPTH, mode=Mode.SUBTRACT)

    # Radyus6
    radyus6_edges = [part_1.edges().sort_by_distance(p)[0] for p in [
        (-50.438495386, -68.417528333, 5),
        (-80.655288395, 26.827680741, 5),
        (0.590785786, 84.99794687, 5),
        (76.424672623, 37.205771253, 5),
        (49.482583905, -69.112038677, 5),
    ]]
    fillet(radyus6_edges, radius=RADYUS6_R)

    # Radyus7
    radyus7_edges = [part_1.edges().sort_by_distance(p)[0] for p in [
        (0.225888683, 32.49921498, 5),
        (29.551349205, 13.526557587, 5),
        (18.919811493, -26.425191259, 5),
        (-19.285307059, -26.159643186, 5),
        (-30.838786739, 10.257642636, 5),
    ]]
    fillet(radyus7_edges, radius=RADYUS7_R)

    # Radyus8
    radyus8_edges = [part_1.edges().sort_by_distance(p)[0] for p in [
        (-90, 0, 0),
    ]]
    fillet(radyus8_edges, radius=RADYUS8_R)

    # Çizim7 → Kes-Ekstrüzyon3 (cut)
    with BuildSketch(Plane.XY.offset(5)):
        Circle(IZIM7_R)
    extrude(amount=-KES_EKSTR_ZYON3_DEPTH, mode=Mode.SUBTRACT)

    # Çizim8 → Kes-Döndür1 (revolve, cut)
    with BuildSketch(Plane(origin=(0, 0, 0), x_dir=(1, 0, 0), z_dir=(0, 1, 0))):
        with Locations((-32.5, -33)):
            Circle(IZIM8_R)
    revolve(axis=Axis((0, 0, 0), (0, 0, 1)), mode=Mode.SUBTRACT)


solid = part_1.part
